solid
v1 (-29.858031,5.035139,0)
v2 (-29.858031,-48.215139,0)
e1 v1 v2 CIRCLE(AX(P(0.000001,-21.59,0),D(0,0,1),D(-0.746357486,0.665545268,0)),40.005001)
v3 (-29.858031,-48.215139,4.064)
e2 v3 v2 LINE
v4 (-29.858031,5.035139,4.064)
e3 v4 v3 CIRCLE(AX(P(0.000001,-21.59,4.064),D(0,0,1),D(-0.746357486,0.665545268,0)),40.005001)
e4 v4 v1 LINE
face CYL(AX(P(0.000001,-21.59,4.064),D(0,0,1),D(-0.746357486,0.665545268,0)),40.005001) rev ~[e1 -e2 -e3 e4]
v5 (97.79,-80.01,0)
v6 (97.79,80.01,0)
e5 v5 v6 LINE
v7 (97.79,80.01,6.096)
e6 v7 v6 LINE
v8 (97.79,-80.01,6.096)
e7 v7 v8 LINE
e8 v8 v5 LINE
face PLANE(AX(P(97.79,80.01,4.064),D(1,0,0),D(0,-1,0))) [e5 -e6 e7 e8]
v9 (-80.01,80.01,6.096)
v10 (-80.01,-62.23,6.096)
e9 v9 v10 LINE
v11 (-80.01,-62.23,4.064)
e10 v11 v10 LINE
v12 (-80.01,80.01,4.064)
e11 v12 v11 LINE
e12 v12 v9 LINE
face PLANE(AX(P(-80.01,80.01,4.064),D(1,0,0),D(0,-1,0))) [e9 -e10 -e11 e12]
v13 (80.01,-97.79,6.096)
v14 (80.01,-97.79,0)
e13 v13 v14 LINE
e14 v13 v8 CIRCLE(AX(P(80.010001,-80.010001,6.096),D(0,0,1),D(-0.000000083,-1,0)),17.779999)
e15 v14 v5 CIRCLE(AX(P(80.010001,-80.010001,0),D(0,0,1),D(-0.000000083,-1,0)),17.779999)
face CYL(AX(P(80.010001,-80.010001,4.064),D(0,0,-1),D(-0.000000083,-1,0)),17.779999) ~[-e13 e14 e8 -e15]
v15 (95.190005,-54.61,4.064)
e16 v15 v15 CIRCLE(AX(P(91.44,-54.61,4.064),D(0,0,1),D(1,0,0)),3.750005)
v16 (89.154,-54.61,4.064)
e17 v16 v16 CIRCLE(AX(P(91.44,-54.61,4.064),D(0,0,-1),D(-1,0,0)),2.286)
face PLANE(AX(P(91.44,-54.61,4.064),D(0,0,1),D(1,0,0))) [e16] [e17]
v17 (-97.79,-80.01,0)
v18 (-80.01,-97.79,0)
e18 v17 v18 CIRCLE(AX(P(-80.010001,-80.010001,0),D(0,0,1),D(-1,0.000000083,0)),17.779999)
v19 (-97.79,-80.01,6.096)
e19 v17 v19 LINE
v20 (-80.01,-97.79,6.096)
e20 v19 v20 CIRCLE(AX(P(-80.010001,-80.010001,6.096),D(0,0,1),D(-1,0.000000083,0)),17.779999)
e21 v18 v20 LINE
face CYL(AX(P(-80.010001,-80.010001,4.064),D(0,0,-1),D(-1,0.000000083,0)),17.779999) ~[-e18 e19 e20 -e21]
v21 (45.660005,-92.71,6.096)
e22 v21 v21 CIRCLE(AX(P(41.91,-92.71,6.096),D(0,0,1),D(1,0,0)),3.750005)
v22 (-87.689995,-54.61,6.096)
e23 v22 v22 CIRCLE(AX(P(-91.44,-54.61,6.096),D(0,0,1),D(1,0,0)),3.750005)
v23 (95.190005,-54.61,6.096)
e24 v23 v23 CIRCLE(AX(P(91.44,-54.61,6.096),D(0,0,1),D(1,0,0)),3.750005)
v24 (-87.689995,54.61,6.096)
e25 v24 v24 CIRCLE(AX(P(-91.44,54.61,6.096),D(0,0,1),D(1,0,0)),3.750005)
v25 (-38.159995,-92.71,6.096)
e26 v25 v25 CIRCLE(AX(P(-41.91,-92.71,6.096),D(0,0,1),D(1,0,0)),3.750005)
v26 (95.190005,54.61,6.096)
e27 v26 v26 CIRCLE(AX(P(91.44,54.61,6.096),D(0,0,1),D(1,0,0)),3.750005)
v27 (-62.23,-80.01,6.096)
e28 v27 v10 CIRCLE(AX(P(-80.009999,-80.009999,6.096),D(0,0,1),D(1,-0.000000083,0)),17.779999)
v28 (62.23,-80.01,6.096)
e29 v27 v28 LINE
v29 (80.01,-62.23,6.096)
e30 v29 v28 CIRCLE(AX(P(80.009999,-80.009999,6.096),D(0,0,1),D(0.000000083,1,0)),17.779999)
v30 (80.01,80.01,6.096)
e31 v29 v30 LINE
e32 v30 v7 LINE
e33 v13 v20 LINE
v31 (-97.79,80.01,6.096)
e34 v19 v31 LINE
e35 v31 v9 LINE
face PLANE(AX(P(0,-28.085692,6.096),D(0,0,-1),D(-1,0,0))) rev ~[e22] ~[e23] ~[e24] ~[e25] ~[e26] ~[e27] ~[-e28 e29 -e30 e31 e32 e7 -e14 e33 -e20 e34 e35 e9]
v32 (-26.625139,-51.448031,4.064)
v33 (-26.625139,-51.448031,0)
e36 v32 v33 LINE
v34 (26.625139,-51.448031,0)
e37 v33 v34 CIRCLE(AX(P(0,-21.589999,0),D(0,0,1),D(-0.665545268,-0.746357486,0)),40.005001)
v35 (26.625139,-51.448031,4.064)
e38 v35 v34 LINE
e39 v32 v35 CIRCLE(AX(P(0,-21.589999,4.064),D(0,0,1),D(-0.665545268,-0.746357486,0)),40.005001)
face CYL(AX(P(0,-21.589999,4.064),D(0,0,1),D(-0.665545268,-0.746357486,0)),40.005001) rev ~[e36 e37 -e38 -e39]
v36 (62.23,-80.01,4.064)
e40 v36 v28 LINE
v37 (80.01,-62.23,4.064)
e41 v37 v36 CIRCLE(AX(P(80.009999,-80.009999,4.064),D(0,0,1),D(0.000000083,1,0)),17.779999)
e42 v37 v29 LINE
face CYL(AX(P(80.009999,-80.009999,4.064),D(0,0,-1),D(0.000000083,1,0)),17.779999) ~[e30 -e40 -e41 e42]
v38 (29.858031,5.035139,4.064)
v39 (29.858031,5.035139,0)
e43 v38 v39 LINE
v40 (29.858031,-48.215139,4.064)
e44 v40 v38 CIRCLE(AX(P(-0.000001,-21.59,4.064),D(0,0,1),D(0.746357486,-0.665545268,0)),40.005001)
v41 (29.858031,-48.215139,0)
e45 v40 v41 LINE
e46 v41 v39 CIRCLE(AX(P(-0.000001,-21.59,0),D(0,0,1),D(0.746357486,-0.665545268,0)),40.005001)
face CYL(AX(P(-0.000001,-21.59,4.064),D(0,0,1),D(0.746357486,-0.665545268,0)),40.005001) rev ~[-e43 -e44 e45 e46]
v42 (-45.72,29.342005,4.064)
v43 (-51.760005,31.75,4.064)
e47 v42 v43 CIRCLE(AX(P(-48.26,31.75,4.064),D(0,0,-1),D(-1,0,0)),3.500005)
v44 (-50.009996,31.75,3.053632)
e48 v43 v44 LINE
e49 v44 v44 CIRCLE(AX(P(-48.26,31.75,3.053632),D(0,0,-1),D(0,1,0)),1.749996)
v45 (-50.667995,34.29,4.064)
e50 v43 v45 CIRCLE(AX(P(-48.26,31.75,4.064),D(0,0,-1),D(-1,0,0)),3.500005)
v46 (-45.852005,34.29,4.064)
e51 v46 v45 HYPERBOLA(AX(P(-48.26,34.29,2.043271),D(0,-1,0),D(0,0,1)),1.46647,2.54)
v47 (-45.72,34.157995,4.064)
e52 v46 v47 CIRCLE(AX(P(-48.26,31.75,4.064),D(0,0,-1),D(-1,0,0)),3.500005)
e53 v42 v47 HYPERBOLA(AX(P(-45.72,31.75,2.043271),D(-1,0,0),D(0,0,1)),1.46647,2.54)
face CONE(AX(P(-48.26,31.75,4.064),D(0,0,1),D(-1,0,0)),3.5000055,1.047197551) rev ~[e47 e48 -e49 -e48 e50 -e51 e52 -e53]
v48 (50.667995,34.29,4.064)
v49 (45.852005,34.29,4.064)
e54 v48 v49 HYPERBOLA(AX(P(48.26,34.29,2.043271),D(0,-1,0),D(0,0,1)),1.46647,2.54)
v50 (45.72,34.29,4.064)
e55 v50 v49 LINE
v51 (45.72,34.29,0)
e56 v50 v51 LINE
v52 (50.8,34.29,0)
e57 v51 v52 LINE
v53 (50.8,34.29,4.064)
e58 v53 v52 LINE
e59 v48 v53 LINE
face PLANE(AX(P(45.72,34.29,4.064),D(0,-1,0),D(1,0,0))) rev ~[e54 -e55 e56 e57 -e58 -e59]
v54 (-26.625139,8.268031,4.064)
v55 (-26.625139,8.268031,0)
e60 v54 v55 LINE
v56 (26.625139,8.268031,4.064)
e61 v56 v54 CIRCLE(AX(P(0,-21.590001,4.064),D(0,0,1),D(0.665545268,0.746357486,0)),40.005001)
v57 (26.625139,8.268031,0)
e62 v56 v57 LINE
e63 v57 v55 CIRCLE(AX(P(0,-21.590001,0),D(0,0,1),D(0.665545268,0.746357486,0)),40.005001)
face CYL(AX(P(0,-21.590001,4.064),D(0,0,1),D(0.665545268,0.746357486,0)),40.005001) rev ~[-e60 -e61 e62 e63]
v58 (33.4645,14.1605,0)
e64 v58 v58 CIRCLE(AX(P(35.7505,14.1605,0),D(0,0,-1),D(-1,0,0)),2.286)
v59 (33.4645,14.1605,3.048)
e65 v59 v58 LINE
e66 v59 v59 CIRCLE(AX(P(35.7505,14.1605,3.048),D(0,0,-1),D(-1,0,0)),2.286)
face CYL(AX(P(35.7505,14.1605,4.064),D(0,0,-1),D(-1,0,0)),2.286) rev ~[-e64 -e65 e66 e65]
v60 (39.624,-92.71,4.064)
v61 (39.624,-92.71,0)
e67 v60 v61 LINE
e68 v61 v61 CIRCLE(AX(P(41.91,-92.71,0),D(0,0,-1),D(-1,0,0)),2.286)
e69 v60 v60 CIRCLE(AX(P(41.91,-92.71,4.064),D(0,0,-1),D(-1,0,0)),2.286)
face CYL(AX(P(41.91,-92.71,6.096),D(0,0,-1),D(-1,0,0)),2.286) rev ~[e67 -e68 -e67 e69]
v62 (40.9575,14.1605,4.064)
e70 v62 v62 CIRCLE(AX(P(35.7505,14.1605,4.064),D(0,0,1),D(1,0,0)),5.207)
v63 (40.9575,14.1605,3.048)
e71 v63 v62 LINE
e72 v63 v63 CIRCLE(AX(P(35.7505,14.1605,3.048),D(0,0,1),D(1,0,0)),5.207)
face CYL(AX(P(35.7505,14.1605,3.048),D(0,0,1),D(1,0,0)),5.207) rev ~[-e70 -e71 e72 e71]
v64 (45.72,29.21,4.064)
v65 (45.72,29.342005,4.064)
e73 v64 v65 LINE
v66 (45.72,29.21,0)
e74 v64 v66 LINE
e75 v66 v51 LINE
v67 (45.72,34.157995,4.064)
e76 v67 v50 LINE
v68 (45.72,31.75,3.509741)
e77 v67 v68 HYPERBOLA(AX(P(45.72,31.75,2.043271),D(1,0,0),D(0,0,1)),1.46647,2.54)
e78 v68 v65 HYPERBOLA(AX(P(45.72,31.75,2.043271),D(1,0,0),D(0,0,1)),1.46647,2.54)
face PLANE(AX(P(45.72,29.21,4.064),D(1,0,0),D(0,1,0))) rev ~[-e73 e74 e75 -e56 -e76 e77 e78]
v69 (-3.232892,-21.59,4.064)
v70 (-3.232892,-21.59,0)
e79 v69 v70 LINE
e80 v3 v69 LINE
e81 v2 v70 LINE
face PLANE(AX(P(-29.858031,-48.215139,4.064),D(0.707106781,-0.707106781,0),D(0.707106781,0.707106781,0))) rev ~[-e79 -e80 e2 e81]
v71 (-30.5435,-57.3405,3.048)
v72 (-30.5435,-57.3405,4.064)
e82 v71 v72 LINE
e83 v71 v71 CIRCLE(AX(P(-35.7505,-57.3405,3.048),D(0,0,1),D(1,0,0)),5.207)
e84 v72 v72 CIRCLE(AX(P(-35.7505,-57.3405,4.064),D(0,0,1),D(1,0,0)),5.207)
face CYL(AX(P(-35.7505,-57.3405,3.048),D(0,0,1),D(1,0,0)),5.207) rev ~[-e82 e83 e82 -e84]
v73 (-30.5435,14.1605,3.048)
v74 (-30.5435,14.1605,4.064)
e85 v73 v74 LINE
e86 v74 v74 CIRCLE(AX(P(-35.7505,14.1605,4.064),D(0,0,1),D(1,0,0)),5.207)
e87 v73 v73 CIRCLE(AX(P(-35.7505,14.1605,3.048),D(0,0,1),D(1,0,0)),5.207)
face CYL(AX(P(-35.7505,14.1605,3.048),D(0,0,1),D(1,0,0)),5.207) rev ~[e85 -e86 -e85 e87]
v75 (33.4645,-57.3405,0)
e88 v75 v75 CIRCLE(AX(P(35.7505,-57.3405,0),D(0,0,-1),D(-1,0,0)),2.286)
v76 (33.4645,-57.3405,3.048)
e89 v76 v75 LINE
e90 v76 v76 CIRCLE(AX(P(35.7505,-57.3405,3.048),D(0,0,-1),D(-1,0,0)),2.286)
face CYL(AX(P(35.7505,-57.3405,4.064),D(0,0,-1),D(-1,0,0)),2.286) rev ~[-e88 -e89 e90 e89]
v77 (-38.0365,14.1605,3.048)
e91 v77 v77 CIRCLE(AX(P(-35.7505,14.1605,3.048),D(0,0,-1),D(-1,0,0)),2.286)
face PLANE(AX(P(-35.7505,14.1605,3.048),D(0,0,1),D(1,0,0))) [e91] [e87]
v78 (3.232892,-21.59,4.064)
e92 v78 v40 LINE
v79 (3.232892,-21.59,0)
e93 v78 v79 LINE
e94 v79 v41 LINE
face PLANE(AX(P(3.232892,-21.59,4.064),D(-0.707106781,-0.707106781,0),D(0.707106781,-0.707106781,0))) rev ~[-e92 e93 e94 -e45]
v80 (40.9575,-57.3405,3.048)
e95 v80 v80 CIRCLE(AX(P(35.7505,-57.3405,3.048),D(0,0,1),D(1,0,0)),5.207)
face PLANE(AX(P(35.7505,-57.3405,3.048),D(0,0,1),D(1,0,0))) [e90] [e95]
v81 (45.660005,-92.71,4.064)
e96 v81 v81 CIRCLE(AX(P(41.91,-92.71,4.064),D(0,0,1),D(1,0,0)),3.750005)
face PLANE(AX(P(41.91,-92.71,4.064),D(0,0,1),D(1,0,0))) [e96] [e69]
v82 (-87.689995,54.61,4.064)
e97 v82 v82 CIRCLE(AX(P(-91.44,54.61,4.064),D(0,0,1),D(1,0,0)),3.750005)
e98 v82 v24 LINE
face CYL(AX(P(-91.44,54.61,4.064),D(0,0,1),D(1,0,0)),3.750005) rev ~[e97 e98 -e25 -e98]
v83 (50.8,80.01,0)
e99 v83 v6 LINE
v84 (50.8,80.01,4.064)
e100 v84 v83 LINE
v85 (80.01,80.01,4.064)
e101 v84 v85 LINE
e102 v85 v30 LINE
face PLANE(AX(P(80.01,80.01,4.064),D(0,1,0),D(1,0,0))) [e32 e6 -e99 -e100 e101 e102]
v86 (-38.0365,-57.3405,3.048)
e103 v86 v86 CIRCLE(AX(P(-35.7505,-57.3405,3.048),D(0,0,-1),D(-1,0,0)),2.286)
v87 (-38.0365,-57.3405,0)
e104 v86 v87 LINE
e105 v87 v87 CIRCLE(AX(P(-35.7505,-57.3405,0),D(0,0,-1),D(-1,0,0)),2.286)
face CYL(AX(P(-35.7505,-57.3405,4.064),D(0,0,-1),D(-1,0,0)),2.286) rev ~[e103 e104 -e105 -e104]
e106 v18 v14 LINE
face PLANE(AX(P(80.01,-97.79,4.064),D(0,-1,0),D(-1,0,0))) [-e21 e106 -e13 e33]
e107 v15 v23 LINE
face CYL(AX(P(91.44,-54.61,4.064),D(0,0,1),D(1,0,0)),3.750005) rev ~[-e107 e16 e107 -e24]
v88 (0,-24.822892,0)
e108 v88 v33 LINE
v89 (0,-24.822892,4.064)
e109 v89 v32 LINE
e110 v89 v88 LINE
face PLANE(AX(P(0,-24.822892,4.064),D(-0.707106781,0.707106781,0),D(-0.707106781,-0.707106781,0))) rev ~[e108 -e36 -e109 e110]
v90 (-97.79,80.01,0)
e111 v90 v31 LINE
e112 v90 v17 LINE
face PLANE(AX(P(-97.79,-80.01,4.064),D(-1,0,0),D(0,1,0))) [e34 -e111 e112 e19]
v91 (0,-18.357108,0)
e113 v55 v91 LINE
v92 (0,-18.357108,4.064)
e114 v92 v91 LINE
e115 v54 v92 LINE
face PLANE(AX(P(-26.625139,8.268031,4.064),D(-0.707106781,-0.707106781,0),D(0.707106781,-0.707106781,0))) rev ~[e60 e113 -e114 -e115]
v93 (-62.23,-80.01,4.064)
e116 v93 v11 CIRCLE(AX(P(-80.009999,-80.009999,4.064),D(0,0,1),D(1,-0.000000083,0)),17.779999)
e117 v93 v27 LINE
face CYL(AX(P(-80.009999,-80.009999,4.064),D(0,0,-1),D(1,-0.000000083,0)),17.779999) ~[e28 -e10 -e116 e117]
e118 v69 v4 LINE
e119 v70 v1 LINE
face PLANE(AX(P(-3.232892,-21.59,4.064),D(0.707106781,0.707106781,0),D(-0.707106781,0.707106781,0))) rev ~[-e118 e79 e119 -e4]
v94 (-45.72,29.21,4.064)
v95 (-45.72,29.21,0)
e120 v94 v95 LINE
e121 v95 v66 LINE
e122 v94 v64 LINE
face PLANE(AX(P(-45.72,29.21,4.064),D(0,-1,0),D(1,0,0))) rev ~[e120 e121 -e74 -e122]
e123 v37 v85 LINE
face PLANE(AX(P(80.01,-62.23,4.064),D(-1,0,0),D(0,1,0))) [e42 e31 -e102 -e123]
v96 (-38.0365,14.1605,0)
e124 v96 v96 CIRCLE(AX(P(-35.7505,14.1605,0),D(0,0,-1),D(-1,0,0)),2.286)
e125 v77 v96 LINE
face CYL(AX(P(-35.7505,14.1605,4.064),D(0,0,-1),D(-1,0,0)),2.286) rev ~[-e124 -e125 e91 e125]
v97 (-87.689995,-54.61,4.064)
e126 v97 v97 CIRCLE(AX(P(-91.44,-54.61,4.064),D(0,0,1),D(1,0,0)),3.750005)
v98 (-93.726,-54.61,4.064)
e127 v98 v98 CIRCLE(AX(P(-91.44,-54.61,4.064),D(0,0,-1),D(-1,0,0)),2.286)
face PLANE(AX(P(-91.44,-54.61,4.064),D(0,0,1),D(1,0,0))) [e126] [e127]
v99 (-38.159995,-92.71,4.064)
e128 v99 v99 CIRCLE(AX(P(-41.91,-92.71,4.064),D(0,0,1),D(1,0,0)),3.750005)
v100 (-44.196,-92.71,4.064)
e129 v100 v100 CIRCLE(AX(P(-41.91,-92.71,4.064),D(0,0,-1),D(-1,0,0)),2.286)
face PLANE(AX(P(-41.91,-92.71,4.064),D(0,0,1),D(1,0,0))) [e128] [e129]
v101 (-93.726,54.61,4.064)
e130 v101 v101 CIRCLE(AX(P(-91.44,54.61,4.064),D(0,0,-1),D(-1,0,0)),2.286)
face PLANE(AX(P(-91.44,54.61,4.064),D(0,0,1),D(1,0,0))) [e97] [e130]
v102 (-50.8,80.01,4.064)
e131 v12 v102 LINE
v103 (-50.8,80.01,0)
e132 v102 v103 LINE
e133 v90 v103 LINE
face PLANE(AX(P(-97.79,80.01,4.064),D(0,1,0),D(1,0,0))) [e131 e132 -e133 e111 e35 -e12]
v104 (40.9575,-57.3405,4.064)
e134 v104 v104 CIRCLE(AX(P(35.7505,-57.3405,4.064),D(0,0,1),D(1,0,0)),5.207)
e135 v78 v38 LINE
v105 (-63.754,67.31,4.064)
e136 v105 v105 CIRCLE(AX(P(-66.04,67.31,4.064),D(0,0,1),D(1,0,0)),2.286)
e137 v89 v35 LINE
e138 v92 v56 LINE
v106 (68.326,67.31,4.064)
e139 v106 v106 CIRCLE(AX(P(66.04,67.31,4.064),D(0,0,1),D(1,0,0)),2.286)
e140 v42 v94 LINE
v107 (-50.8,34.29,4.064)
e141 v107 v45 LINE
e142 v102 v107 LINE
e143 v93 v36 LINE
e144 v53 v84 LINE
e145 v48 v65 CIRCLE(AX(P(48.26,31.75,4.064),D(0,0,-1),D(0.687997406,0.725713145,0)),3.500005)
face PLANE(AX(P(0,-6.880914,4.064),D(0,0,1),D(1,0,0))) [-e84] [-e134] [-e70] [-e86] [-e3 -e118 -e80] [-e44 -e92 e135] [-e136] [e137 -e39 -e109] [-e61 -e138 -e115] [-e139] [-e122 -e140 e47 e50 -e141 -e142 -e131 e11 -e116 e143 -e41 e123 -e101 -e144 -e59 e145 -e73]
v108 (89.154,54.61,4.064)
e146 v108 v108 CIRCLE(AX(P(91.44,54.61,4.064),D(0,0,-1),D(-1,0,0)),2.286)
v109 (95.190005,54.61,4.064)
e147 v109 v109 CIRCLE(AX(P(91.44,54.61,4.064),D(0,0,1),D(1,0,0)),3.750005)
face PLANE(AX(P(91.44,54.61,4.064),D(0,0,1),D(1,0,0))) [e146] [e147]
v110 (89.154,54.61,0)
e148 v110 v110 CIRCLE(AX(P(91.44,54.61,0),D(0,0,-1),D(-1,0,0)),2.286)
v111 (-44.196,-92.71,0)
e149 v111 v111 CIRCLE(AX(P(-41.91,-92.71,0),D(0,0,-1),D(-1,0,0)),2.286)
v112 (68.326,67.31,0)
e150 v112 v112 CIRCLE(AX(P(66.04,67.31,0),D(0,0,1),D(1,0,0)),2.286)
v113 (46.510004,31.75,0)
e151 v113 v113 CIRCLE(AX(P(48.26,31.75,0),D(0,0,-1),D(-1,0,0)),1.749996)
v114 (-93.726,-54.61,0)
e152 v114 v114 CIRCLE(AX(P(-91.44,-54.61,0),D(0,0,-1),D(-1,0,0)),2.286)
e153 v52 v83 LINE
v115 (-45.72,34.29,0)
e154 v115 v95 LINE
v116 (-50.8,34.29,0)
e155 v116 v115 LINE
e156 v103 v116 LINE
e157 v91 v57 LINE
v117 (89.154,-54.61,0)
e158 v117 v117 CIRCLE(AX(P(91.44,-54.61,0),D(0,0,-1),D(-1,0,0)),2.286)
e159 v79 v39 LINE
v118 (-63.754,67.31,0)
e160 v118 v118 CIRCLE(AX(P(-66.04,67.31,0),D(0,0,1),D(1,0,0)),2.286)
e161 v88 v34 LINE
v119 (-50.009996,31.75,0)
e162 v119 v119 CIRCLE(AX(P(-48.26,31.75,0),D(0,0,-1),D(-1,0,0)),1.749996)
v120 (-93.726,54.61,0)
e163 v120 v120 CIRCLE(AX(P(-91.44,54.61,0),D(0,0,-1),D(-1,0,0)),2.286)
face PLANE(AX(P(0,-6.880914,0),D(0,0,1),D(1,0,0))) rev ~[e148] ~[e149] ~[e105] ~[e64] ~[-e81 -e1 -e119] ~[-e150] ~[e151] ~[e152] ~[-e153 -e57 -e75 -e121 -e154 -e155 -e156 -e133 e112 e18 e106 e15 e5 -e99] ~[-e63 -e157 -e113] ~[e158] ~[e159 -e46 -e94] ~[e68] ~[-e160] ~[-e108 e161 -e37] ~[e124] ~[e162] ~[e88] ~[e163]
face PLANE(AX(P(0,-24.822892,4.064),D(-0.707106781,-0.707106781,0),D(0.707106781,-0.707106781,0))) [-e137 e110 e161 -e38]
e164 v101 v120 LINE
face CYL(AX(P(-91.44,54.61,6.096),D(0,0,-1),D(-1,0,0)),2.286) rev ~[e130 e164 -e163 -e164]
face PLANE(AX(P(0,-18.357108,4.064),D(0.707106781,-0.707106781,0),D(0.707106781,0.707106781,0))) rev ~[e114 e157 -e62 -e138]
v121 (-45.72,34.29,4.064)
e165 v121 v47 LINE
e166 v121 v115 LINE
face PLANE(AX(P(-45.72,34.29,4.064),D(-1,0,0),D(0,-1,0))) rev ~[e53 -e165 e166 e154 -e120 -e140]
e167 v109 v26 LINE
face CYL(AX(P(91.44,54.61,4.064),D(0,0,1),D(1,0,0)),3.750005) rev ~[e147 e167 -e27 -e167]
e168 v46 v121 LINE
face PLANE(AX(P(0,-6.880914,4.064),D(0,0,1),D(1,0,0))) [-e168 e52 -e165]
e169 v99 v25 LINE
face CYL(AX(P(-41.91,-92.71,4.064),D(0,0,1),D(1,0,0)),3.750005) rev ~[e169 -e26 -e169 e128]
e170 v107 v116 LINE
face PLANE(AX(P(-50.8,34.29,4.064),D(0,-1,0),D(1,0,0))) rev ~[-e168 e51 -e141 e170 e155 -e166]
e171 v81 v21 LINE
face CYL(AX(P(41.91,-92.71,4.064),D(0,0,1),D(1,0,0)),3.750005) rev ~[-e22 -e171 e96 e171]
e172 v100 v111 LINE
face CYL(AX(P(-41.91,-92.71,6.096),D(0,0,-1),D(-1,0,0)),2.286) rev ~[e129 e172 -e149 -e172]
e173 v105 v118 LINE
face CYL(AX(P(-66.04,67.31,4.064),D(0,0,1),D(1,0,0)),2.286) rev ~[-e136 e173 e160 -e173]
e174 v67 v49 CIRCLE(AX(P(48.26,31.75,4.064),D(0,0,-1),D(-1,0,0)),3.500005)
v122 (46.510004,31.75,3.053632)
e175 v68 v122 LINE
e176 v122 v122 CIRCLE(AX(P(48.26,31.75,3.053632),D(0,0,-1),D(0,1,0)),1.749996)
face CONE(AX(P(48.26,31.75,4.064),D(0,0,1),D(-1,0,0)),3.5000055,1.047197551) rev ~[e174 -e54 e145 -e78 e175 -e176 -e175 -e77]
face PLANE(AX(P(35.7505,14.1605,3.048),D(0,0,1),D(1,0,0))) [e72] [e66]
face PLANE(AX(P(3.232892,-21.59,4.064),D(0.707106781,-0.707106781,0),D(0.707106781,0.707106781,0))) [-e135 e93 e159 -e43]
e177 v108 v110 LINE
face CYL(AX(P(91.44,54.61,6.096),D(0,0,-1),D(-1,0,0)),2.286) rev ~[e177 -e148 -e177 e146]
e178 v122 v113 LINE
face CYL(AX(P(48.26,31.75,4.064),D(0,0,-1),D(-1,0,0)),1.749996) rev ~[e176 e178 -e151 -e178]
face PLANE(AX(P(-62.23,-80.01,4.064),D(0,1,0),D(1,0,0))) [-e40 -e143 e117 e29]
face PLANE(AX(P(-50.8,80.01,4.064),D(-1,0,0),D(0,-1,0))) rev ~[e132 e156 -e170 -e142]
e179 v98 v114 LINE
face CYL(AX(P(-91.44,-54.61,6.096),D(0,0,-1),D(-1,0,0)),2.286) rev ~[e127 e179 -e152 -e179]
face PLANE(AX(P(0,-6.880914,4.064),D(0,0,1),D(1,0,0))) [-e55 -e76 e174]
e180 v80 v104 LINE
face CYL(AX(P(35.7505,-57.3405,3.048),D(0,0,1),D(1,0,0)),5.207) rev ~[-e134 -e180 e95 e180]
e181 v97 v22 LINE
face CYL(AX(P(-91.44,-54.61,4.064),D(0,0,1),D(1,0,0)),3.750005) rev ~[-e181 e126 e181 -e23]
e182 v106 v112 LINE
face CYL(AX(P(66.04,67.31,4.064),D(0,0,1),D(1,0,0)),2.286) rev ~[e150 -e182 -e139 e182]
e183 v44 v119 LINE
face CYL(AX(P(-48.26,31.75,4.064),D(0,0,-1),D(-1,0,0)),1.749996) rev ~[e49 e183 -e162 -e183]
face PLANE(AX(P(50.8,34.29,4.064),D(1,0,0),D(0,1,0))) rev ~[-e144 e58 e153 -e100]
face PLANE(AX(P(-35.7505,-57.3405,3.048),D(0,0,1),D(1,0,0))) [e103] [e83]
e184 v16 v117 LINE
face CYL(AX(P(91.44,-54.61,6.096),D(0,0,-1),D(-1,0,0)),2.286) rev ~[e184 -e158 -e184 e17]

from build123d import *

# Parameters (mm, degrees)
PAD_DEPTH           = 4.064
POCKET_DEPTH        = 4.064
HOLE_D              = 4.572
HOLE_DEPTH          = 635
HOLE_CBORE_D        = 10.414
HOLE_CBORE_DEPTH    = 1.016
POCKET001_DEPTH     = 4.064
HOLE001_D           = 3.499993
HOLE001_DEPTH       = 635
HOLE001_CSINK_D     = 7.000011
HOLE001_CSINK_ANGLE = 120
SKETCH005_R         = 2.286
POCKET002_DEPTH     = 4.064
PAD001_DEPTH        = 2.032
HOLE002_D           = 4.572
HOLE002_DEPTH       = 635
HOLE002_CBORE_D     = 7.50001
HOLE002_CBORE_DEPTH = 2.032


with BuildPart() as part:
    # Sketch → Pad (new body)
    with BuildSketch(Plane.XY):
        with BuildLine():
            Line((-97.79, 80.01), (-97.79, -80.01))
            ThreePointArc((-97.79, -80.01), (-92.582359, -92.582359), (-80.01, -97.79))
            Line((-80.01, -97.79), (80.01, -97.79))
            ThreePointArc((80.01, -97.79), (92.582359, -92.582359), (97.79, -80.01))
            Line((97.79, -80.01), (97.79, 80.01))
            Line((-97.79, 80.01), (97.79, 80.01))
        make_face()
    extrude(amount=PAD_DEPTH)

    # Sketch001 (on Face8 of Pad) → Pocket (cut)
    with BuildSketch(Plane.XY.offset(4.064)):
        with BuildLine():
            ThreePointArc((-29.858031, 5.035139), (-40.005, -21.59), (-29.858031, -48.215139))
            Line((-29.858031, -48.215139), (-3.232892, -21.59))
            Line((-3.232892, -21.59), (-29.858031, 5.035139))
        make_face()
        with BuildLine():
            ThreePointArc((26.625139, 8.268031), (0, 18.415), (-26.625139, 8.268031))
            Line((-26.625139, 8.268031), (0, -18.357108))
            Line((0, -18.357108), (26.625139, 8.268031))
        make_face()
        with BuildLine():
            ThreePointArc((29.858031, -48.215139), (40.005, -21.59), (29.858031, 5.035139))
            Line((3.232892, -21.59), (29.858031, 5.035139))
            Line((3.232892, -21.59), (29.858031, -48.215139))
        make_face()
        with BuildLine():
            ThreePointArc((-26.625139, -51.448031), (0, -61.595), (26.625139, -51.448031))
            Line((0, -24.822892), (26.625139, -51.448031))
            Line((0, -24.822892), (-26.625139, -51.448031))
        make_face()
    extrude(amount=-POCKET_DEPTH, mode=Mode.SUBTRACT)

    # Hole
    with Locations(Plane.XY.offset(4.064)):
        with Locations((-35.7505, 14.1605), (35.7505, 14.1605), (35.7505, -57.3405), (-35.7505, -57.3405)):
            CounterBoreHole(HOLE_D / 2, HOLE_CBORE_D / 2, HOLE_CBORE_DEPTH, depth=HOLE_DEPTH)

    # Sketch003 (on Face5 of Hole) → Pocket001 (cut)
    with BuildSketch(Plane.XY.offset(4.064)):
        Polygon((-50.8, 80.01), (-50.8, 34.29), (-45.72, 34.29), (-45.72, 29.21), (45.72, 29.21), (45.72, 34.29), (50.8, 34.29), (50.8, 80.01), align=None)
    extrude(amount=-POCKET001_DEPTH, mode=Mode.SUBTRACT)

    # Hole001
    with Locations(Plane.XY.offset(4.064)):
        with Locations((-48.26, 31.75), (48.26, 31.75)):
            CounterSinkHole(HOLE001_D / 2, HOLE001_CSINK_D / 2, depth=HOLE001_DEPTH, counter_sink_angle=HOLE001_CSINK_ANGLE)

    # Sketch005 (on Face5 of Hole001) → Pocket002 (cut)
    with BuildSketch(Plane.XY.offset(4.064)):
        with Locations((66.04, 67.31)):
            Circle(SKETCH005_R)
        with Locations((-66.04, 67.31)):
            Circle(SKETCH005_R)
    extrude(amount=-POCKET002_DEPTH, mode=Mode.SUBTRACT)

    # Sketch006 (on Face5 of Pocket002) → Pad001 (join)
    with BuildSketch(Plane.XY.offset(4.064)):
        with BuildLine():
            Line((-97.79, 80.01), (-80.01, 80.01))
            Line((-80.01, 80.01), (-80.01, -62.23))
            ThreePointArc((-62.23, -80.01), (-67.437641, -67.437641), (-80.01, -62.23))
            Line((-62.23, -80.01), (62.23, -80.01))
            ThreePointArc((80.01, -62.23), (67.437641, -67.437641), (62.23, -80.01))
            Line((80.01, -62.23), (80.01, 80.01))
            Line((80.01, 80.01), (97.79, 80.01))
            Line((97.79, 80.01), (97.79, -80.01))
            ThreePointArc((80.01, -97.79), (92.582359, -92.582359), (97.79, -80.01))
            Line((80.01, -97.79), (-80.01, -97.79))
            ThreePointArc((-97.79, -80.01), (-92.582359, -92.582359), (-80.01, -97.79))
            Line((-97.79, -80.01), (-97.79, 80.01))
        make_face()
    extrude(amount=PAD001_DEPTH)

    # Hole002
    with Locations(Plane.XY.offset(6.096)):
        with Locations((-91.44, 54.61), (-91.44, -54.61), (-41.91, -92.71), (41.91, -92.71), (91.44, -54.61), (91.44, 54.61)):
            CounterBoreHole(HOLE002_D / 2, HOLE002_CBORE_D / 2, HOLE002_CBORE_DEPTH, depth=HOLE002_DEPTH)


solid = part.part
